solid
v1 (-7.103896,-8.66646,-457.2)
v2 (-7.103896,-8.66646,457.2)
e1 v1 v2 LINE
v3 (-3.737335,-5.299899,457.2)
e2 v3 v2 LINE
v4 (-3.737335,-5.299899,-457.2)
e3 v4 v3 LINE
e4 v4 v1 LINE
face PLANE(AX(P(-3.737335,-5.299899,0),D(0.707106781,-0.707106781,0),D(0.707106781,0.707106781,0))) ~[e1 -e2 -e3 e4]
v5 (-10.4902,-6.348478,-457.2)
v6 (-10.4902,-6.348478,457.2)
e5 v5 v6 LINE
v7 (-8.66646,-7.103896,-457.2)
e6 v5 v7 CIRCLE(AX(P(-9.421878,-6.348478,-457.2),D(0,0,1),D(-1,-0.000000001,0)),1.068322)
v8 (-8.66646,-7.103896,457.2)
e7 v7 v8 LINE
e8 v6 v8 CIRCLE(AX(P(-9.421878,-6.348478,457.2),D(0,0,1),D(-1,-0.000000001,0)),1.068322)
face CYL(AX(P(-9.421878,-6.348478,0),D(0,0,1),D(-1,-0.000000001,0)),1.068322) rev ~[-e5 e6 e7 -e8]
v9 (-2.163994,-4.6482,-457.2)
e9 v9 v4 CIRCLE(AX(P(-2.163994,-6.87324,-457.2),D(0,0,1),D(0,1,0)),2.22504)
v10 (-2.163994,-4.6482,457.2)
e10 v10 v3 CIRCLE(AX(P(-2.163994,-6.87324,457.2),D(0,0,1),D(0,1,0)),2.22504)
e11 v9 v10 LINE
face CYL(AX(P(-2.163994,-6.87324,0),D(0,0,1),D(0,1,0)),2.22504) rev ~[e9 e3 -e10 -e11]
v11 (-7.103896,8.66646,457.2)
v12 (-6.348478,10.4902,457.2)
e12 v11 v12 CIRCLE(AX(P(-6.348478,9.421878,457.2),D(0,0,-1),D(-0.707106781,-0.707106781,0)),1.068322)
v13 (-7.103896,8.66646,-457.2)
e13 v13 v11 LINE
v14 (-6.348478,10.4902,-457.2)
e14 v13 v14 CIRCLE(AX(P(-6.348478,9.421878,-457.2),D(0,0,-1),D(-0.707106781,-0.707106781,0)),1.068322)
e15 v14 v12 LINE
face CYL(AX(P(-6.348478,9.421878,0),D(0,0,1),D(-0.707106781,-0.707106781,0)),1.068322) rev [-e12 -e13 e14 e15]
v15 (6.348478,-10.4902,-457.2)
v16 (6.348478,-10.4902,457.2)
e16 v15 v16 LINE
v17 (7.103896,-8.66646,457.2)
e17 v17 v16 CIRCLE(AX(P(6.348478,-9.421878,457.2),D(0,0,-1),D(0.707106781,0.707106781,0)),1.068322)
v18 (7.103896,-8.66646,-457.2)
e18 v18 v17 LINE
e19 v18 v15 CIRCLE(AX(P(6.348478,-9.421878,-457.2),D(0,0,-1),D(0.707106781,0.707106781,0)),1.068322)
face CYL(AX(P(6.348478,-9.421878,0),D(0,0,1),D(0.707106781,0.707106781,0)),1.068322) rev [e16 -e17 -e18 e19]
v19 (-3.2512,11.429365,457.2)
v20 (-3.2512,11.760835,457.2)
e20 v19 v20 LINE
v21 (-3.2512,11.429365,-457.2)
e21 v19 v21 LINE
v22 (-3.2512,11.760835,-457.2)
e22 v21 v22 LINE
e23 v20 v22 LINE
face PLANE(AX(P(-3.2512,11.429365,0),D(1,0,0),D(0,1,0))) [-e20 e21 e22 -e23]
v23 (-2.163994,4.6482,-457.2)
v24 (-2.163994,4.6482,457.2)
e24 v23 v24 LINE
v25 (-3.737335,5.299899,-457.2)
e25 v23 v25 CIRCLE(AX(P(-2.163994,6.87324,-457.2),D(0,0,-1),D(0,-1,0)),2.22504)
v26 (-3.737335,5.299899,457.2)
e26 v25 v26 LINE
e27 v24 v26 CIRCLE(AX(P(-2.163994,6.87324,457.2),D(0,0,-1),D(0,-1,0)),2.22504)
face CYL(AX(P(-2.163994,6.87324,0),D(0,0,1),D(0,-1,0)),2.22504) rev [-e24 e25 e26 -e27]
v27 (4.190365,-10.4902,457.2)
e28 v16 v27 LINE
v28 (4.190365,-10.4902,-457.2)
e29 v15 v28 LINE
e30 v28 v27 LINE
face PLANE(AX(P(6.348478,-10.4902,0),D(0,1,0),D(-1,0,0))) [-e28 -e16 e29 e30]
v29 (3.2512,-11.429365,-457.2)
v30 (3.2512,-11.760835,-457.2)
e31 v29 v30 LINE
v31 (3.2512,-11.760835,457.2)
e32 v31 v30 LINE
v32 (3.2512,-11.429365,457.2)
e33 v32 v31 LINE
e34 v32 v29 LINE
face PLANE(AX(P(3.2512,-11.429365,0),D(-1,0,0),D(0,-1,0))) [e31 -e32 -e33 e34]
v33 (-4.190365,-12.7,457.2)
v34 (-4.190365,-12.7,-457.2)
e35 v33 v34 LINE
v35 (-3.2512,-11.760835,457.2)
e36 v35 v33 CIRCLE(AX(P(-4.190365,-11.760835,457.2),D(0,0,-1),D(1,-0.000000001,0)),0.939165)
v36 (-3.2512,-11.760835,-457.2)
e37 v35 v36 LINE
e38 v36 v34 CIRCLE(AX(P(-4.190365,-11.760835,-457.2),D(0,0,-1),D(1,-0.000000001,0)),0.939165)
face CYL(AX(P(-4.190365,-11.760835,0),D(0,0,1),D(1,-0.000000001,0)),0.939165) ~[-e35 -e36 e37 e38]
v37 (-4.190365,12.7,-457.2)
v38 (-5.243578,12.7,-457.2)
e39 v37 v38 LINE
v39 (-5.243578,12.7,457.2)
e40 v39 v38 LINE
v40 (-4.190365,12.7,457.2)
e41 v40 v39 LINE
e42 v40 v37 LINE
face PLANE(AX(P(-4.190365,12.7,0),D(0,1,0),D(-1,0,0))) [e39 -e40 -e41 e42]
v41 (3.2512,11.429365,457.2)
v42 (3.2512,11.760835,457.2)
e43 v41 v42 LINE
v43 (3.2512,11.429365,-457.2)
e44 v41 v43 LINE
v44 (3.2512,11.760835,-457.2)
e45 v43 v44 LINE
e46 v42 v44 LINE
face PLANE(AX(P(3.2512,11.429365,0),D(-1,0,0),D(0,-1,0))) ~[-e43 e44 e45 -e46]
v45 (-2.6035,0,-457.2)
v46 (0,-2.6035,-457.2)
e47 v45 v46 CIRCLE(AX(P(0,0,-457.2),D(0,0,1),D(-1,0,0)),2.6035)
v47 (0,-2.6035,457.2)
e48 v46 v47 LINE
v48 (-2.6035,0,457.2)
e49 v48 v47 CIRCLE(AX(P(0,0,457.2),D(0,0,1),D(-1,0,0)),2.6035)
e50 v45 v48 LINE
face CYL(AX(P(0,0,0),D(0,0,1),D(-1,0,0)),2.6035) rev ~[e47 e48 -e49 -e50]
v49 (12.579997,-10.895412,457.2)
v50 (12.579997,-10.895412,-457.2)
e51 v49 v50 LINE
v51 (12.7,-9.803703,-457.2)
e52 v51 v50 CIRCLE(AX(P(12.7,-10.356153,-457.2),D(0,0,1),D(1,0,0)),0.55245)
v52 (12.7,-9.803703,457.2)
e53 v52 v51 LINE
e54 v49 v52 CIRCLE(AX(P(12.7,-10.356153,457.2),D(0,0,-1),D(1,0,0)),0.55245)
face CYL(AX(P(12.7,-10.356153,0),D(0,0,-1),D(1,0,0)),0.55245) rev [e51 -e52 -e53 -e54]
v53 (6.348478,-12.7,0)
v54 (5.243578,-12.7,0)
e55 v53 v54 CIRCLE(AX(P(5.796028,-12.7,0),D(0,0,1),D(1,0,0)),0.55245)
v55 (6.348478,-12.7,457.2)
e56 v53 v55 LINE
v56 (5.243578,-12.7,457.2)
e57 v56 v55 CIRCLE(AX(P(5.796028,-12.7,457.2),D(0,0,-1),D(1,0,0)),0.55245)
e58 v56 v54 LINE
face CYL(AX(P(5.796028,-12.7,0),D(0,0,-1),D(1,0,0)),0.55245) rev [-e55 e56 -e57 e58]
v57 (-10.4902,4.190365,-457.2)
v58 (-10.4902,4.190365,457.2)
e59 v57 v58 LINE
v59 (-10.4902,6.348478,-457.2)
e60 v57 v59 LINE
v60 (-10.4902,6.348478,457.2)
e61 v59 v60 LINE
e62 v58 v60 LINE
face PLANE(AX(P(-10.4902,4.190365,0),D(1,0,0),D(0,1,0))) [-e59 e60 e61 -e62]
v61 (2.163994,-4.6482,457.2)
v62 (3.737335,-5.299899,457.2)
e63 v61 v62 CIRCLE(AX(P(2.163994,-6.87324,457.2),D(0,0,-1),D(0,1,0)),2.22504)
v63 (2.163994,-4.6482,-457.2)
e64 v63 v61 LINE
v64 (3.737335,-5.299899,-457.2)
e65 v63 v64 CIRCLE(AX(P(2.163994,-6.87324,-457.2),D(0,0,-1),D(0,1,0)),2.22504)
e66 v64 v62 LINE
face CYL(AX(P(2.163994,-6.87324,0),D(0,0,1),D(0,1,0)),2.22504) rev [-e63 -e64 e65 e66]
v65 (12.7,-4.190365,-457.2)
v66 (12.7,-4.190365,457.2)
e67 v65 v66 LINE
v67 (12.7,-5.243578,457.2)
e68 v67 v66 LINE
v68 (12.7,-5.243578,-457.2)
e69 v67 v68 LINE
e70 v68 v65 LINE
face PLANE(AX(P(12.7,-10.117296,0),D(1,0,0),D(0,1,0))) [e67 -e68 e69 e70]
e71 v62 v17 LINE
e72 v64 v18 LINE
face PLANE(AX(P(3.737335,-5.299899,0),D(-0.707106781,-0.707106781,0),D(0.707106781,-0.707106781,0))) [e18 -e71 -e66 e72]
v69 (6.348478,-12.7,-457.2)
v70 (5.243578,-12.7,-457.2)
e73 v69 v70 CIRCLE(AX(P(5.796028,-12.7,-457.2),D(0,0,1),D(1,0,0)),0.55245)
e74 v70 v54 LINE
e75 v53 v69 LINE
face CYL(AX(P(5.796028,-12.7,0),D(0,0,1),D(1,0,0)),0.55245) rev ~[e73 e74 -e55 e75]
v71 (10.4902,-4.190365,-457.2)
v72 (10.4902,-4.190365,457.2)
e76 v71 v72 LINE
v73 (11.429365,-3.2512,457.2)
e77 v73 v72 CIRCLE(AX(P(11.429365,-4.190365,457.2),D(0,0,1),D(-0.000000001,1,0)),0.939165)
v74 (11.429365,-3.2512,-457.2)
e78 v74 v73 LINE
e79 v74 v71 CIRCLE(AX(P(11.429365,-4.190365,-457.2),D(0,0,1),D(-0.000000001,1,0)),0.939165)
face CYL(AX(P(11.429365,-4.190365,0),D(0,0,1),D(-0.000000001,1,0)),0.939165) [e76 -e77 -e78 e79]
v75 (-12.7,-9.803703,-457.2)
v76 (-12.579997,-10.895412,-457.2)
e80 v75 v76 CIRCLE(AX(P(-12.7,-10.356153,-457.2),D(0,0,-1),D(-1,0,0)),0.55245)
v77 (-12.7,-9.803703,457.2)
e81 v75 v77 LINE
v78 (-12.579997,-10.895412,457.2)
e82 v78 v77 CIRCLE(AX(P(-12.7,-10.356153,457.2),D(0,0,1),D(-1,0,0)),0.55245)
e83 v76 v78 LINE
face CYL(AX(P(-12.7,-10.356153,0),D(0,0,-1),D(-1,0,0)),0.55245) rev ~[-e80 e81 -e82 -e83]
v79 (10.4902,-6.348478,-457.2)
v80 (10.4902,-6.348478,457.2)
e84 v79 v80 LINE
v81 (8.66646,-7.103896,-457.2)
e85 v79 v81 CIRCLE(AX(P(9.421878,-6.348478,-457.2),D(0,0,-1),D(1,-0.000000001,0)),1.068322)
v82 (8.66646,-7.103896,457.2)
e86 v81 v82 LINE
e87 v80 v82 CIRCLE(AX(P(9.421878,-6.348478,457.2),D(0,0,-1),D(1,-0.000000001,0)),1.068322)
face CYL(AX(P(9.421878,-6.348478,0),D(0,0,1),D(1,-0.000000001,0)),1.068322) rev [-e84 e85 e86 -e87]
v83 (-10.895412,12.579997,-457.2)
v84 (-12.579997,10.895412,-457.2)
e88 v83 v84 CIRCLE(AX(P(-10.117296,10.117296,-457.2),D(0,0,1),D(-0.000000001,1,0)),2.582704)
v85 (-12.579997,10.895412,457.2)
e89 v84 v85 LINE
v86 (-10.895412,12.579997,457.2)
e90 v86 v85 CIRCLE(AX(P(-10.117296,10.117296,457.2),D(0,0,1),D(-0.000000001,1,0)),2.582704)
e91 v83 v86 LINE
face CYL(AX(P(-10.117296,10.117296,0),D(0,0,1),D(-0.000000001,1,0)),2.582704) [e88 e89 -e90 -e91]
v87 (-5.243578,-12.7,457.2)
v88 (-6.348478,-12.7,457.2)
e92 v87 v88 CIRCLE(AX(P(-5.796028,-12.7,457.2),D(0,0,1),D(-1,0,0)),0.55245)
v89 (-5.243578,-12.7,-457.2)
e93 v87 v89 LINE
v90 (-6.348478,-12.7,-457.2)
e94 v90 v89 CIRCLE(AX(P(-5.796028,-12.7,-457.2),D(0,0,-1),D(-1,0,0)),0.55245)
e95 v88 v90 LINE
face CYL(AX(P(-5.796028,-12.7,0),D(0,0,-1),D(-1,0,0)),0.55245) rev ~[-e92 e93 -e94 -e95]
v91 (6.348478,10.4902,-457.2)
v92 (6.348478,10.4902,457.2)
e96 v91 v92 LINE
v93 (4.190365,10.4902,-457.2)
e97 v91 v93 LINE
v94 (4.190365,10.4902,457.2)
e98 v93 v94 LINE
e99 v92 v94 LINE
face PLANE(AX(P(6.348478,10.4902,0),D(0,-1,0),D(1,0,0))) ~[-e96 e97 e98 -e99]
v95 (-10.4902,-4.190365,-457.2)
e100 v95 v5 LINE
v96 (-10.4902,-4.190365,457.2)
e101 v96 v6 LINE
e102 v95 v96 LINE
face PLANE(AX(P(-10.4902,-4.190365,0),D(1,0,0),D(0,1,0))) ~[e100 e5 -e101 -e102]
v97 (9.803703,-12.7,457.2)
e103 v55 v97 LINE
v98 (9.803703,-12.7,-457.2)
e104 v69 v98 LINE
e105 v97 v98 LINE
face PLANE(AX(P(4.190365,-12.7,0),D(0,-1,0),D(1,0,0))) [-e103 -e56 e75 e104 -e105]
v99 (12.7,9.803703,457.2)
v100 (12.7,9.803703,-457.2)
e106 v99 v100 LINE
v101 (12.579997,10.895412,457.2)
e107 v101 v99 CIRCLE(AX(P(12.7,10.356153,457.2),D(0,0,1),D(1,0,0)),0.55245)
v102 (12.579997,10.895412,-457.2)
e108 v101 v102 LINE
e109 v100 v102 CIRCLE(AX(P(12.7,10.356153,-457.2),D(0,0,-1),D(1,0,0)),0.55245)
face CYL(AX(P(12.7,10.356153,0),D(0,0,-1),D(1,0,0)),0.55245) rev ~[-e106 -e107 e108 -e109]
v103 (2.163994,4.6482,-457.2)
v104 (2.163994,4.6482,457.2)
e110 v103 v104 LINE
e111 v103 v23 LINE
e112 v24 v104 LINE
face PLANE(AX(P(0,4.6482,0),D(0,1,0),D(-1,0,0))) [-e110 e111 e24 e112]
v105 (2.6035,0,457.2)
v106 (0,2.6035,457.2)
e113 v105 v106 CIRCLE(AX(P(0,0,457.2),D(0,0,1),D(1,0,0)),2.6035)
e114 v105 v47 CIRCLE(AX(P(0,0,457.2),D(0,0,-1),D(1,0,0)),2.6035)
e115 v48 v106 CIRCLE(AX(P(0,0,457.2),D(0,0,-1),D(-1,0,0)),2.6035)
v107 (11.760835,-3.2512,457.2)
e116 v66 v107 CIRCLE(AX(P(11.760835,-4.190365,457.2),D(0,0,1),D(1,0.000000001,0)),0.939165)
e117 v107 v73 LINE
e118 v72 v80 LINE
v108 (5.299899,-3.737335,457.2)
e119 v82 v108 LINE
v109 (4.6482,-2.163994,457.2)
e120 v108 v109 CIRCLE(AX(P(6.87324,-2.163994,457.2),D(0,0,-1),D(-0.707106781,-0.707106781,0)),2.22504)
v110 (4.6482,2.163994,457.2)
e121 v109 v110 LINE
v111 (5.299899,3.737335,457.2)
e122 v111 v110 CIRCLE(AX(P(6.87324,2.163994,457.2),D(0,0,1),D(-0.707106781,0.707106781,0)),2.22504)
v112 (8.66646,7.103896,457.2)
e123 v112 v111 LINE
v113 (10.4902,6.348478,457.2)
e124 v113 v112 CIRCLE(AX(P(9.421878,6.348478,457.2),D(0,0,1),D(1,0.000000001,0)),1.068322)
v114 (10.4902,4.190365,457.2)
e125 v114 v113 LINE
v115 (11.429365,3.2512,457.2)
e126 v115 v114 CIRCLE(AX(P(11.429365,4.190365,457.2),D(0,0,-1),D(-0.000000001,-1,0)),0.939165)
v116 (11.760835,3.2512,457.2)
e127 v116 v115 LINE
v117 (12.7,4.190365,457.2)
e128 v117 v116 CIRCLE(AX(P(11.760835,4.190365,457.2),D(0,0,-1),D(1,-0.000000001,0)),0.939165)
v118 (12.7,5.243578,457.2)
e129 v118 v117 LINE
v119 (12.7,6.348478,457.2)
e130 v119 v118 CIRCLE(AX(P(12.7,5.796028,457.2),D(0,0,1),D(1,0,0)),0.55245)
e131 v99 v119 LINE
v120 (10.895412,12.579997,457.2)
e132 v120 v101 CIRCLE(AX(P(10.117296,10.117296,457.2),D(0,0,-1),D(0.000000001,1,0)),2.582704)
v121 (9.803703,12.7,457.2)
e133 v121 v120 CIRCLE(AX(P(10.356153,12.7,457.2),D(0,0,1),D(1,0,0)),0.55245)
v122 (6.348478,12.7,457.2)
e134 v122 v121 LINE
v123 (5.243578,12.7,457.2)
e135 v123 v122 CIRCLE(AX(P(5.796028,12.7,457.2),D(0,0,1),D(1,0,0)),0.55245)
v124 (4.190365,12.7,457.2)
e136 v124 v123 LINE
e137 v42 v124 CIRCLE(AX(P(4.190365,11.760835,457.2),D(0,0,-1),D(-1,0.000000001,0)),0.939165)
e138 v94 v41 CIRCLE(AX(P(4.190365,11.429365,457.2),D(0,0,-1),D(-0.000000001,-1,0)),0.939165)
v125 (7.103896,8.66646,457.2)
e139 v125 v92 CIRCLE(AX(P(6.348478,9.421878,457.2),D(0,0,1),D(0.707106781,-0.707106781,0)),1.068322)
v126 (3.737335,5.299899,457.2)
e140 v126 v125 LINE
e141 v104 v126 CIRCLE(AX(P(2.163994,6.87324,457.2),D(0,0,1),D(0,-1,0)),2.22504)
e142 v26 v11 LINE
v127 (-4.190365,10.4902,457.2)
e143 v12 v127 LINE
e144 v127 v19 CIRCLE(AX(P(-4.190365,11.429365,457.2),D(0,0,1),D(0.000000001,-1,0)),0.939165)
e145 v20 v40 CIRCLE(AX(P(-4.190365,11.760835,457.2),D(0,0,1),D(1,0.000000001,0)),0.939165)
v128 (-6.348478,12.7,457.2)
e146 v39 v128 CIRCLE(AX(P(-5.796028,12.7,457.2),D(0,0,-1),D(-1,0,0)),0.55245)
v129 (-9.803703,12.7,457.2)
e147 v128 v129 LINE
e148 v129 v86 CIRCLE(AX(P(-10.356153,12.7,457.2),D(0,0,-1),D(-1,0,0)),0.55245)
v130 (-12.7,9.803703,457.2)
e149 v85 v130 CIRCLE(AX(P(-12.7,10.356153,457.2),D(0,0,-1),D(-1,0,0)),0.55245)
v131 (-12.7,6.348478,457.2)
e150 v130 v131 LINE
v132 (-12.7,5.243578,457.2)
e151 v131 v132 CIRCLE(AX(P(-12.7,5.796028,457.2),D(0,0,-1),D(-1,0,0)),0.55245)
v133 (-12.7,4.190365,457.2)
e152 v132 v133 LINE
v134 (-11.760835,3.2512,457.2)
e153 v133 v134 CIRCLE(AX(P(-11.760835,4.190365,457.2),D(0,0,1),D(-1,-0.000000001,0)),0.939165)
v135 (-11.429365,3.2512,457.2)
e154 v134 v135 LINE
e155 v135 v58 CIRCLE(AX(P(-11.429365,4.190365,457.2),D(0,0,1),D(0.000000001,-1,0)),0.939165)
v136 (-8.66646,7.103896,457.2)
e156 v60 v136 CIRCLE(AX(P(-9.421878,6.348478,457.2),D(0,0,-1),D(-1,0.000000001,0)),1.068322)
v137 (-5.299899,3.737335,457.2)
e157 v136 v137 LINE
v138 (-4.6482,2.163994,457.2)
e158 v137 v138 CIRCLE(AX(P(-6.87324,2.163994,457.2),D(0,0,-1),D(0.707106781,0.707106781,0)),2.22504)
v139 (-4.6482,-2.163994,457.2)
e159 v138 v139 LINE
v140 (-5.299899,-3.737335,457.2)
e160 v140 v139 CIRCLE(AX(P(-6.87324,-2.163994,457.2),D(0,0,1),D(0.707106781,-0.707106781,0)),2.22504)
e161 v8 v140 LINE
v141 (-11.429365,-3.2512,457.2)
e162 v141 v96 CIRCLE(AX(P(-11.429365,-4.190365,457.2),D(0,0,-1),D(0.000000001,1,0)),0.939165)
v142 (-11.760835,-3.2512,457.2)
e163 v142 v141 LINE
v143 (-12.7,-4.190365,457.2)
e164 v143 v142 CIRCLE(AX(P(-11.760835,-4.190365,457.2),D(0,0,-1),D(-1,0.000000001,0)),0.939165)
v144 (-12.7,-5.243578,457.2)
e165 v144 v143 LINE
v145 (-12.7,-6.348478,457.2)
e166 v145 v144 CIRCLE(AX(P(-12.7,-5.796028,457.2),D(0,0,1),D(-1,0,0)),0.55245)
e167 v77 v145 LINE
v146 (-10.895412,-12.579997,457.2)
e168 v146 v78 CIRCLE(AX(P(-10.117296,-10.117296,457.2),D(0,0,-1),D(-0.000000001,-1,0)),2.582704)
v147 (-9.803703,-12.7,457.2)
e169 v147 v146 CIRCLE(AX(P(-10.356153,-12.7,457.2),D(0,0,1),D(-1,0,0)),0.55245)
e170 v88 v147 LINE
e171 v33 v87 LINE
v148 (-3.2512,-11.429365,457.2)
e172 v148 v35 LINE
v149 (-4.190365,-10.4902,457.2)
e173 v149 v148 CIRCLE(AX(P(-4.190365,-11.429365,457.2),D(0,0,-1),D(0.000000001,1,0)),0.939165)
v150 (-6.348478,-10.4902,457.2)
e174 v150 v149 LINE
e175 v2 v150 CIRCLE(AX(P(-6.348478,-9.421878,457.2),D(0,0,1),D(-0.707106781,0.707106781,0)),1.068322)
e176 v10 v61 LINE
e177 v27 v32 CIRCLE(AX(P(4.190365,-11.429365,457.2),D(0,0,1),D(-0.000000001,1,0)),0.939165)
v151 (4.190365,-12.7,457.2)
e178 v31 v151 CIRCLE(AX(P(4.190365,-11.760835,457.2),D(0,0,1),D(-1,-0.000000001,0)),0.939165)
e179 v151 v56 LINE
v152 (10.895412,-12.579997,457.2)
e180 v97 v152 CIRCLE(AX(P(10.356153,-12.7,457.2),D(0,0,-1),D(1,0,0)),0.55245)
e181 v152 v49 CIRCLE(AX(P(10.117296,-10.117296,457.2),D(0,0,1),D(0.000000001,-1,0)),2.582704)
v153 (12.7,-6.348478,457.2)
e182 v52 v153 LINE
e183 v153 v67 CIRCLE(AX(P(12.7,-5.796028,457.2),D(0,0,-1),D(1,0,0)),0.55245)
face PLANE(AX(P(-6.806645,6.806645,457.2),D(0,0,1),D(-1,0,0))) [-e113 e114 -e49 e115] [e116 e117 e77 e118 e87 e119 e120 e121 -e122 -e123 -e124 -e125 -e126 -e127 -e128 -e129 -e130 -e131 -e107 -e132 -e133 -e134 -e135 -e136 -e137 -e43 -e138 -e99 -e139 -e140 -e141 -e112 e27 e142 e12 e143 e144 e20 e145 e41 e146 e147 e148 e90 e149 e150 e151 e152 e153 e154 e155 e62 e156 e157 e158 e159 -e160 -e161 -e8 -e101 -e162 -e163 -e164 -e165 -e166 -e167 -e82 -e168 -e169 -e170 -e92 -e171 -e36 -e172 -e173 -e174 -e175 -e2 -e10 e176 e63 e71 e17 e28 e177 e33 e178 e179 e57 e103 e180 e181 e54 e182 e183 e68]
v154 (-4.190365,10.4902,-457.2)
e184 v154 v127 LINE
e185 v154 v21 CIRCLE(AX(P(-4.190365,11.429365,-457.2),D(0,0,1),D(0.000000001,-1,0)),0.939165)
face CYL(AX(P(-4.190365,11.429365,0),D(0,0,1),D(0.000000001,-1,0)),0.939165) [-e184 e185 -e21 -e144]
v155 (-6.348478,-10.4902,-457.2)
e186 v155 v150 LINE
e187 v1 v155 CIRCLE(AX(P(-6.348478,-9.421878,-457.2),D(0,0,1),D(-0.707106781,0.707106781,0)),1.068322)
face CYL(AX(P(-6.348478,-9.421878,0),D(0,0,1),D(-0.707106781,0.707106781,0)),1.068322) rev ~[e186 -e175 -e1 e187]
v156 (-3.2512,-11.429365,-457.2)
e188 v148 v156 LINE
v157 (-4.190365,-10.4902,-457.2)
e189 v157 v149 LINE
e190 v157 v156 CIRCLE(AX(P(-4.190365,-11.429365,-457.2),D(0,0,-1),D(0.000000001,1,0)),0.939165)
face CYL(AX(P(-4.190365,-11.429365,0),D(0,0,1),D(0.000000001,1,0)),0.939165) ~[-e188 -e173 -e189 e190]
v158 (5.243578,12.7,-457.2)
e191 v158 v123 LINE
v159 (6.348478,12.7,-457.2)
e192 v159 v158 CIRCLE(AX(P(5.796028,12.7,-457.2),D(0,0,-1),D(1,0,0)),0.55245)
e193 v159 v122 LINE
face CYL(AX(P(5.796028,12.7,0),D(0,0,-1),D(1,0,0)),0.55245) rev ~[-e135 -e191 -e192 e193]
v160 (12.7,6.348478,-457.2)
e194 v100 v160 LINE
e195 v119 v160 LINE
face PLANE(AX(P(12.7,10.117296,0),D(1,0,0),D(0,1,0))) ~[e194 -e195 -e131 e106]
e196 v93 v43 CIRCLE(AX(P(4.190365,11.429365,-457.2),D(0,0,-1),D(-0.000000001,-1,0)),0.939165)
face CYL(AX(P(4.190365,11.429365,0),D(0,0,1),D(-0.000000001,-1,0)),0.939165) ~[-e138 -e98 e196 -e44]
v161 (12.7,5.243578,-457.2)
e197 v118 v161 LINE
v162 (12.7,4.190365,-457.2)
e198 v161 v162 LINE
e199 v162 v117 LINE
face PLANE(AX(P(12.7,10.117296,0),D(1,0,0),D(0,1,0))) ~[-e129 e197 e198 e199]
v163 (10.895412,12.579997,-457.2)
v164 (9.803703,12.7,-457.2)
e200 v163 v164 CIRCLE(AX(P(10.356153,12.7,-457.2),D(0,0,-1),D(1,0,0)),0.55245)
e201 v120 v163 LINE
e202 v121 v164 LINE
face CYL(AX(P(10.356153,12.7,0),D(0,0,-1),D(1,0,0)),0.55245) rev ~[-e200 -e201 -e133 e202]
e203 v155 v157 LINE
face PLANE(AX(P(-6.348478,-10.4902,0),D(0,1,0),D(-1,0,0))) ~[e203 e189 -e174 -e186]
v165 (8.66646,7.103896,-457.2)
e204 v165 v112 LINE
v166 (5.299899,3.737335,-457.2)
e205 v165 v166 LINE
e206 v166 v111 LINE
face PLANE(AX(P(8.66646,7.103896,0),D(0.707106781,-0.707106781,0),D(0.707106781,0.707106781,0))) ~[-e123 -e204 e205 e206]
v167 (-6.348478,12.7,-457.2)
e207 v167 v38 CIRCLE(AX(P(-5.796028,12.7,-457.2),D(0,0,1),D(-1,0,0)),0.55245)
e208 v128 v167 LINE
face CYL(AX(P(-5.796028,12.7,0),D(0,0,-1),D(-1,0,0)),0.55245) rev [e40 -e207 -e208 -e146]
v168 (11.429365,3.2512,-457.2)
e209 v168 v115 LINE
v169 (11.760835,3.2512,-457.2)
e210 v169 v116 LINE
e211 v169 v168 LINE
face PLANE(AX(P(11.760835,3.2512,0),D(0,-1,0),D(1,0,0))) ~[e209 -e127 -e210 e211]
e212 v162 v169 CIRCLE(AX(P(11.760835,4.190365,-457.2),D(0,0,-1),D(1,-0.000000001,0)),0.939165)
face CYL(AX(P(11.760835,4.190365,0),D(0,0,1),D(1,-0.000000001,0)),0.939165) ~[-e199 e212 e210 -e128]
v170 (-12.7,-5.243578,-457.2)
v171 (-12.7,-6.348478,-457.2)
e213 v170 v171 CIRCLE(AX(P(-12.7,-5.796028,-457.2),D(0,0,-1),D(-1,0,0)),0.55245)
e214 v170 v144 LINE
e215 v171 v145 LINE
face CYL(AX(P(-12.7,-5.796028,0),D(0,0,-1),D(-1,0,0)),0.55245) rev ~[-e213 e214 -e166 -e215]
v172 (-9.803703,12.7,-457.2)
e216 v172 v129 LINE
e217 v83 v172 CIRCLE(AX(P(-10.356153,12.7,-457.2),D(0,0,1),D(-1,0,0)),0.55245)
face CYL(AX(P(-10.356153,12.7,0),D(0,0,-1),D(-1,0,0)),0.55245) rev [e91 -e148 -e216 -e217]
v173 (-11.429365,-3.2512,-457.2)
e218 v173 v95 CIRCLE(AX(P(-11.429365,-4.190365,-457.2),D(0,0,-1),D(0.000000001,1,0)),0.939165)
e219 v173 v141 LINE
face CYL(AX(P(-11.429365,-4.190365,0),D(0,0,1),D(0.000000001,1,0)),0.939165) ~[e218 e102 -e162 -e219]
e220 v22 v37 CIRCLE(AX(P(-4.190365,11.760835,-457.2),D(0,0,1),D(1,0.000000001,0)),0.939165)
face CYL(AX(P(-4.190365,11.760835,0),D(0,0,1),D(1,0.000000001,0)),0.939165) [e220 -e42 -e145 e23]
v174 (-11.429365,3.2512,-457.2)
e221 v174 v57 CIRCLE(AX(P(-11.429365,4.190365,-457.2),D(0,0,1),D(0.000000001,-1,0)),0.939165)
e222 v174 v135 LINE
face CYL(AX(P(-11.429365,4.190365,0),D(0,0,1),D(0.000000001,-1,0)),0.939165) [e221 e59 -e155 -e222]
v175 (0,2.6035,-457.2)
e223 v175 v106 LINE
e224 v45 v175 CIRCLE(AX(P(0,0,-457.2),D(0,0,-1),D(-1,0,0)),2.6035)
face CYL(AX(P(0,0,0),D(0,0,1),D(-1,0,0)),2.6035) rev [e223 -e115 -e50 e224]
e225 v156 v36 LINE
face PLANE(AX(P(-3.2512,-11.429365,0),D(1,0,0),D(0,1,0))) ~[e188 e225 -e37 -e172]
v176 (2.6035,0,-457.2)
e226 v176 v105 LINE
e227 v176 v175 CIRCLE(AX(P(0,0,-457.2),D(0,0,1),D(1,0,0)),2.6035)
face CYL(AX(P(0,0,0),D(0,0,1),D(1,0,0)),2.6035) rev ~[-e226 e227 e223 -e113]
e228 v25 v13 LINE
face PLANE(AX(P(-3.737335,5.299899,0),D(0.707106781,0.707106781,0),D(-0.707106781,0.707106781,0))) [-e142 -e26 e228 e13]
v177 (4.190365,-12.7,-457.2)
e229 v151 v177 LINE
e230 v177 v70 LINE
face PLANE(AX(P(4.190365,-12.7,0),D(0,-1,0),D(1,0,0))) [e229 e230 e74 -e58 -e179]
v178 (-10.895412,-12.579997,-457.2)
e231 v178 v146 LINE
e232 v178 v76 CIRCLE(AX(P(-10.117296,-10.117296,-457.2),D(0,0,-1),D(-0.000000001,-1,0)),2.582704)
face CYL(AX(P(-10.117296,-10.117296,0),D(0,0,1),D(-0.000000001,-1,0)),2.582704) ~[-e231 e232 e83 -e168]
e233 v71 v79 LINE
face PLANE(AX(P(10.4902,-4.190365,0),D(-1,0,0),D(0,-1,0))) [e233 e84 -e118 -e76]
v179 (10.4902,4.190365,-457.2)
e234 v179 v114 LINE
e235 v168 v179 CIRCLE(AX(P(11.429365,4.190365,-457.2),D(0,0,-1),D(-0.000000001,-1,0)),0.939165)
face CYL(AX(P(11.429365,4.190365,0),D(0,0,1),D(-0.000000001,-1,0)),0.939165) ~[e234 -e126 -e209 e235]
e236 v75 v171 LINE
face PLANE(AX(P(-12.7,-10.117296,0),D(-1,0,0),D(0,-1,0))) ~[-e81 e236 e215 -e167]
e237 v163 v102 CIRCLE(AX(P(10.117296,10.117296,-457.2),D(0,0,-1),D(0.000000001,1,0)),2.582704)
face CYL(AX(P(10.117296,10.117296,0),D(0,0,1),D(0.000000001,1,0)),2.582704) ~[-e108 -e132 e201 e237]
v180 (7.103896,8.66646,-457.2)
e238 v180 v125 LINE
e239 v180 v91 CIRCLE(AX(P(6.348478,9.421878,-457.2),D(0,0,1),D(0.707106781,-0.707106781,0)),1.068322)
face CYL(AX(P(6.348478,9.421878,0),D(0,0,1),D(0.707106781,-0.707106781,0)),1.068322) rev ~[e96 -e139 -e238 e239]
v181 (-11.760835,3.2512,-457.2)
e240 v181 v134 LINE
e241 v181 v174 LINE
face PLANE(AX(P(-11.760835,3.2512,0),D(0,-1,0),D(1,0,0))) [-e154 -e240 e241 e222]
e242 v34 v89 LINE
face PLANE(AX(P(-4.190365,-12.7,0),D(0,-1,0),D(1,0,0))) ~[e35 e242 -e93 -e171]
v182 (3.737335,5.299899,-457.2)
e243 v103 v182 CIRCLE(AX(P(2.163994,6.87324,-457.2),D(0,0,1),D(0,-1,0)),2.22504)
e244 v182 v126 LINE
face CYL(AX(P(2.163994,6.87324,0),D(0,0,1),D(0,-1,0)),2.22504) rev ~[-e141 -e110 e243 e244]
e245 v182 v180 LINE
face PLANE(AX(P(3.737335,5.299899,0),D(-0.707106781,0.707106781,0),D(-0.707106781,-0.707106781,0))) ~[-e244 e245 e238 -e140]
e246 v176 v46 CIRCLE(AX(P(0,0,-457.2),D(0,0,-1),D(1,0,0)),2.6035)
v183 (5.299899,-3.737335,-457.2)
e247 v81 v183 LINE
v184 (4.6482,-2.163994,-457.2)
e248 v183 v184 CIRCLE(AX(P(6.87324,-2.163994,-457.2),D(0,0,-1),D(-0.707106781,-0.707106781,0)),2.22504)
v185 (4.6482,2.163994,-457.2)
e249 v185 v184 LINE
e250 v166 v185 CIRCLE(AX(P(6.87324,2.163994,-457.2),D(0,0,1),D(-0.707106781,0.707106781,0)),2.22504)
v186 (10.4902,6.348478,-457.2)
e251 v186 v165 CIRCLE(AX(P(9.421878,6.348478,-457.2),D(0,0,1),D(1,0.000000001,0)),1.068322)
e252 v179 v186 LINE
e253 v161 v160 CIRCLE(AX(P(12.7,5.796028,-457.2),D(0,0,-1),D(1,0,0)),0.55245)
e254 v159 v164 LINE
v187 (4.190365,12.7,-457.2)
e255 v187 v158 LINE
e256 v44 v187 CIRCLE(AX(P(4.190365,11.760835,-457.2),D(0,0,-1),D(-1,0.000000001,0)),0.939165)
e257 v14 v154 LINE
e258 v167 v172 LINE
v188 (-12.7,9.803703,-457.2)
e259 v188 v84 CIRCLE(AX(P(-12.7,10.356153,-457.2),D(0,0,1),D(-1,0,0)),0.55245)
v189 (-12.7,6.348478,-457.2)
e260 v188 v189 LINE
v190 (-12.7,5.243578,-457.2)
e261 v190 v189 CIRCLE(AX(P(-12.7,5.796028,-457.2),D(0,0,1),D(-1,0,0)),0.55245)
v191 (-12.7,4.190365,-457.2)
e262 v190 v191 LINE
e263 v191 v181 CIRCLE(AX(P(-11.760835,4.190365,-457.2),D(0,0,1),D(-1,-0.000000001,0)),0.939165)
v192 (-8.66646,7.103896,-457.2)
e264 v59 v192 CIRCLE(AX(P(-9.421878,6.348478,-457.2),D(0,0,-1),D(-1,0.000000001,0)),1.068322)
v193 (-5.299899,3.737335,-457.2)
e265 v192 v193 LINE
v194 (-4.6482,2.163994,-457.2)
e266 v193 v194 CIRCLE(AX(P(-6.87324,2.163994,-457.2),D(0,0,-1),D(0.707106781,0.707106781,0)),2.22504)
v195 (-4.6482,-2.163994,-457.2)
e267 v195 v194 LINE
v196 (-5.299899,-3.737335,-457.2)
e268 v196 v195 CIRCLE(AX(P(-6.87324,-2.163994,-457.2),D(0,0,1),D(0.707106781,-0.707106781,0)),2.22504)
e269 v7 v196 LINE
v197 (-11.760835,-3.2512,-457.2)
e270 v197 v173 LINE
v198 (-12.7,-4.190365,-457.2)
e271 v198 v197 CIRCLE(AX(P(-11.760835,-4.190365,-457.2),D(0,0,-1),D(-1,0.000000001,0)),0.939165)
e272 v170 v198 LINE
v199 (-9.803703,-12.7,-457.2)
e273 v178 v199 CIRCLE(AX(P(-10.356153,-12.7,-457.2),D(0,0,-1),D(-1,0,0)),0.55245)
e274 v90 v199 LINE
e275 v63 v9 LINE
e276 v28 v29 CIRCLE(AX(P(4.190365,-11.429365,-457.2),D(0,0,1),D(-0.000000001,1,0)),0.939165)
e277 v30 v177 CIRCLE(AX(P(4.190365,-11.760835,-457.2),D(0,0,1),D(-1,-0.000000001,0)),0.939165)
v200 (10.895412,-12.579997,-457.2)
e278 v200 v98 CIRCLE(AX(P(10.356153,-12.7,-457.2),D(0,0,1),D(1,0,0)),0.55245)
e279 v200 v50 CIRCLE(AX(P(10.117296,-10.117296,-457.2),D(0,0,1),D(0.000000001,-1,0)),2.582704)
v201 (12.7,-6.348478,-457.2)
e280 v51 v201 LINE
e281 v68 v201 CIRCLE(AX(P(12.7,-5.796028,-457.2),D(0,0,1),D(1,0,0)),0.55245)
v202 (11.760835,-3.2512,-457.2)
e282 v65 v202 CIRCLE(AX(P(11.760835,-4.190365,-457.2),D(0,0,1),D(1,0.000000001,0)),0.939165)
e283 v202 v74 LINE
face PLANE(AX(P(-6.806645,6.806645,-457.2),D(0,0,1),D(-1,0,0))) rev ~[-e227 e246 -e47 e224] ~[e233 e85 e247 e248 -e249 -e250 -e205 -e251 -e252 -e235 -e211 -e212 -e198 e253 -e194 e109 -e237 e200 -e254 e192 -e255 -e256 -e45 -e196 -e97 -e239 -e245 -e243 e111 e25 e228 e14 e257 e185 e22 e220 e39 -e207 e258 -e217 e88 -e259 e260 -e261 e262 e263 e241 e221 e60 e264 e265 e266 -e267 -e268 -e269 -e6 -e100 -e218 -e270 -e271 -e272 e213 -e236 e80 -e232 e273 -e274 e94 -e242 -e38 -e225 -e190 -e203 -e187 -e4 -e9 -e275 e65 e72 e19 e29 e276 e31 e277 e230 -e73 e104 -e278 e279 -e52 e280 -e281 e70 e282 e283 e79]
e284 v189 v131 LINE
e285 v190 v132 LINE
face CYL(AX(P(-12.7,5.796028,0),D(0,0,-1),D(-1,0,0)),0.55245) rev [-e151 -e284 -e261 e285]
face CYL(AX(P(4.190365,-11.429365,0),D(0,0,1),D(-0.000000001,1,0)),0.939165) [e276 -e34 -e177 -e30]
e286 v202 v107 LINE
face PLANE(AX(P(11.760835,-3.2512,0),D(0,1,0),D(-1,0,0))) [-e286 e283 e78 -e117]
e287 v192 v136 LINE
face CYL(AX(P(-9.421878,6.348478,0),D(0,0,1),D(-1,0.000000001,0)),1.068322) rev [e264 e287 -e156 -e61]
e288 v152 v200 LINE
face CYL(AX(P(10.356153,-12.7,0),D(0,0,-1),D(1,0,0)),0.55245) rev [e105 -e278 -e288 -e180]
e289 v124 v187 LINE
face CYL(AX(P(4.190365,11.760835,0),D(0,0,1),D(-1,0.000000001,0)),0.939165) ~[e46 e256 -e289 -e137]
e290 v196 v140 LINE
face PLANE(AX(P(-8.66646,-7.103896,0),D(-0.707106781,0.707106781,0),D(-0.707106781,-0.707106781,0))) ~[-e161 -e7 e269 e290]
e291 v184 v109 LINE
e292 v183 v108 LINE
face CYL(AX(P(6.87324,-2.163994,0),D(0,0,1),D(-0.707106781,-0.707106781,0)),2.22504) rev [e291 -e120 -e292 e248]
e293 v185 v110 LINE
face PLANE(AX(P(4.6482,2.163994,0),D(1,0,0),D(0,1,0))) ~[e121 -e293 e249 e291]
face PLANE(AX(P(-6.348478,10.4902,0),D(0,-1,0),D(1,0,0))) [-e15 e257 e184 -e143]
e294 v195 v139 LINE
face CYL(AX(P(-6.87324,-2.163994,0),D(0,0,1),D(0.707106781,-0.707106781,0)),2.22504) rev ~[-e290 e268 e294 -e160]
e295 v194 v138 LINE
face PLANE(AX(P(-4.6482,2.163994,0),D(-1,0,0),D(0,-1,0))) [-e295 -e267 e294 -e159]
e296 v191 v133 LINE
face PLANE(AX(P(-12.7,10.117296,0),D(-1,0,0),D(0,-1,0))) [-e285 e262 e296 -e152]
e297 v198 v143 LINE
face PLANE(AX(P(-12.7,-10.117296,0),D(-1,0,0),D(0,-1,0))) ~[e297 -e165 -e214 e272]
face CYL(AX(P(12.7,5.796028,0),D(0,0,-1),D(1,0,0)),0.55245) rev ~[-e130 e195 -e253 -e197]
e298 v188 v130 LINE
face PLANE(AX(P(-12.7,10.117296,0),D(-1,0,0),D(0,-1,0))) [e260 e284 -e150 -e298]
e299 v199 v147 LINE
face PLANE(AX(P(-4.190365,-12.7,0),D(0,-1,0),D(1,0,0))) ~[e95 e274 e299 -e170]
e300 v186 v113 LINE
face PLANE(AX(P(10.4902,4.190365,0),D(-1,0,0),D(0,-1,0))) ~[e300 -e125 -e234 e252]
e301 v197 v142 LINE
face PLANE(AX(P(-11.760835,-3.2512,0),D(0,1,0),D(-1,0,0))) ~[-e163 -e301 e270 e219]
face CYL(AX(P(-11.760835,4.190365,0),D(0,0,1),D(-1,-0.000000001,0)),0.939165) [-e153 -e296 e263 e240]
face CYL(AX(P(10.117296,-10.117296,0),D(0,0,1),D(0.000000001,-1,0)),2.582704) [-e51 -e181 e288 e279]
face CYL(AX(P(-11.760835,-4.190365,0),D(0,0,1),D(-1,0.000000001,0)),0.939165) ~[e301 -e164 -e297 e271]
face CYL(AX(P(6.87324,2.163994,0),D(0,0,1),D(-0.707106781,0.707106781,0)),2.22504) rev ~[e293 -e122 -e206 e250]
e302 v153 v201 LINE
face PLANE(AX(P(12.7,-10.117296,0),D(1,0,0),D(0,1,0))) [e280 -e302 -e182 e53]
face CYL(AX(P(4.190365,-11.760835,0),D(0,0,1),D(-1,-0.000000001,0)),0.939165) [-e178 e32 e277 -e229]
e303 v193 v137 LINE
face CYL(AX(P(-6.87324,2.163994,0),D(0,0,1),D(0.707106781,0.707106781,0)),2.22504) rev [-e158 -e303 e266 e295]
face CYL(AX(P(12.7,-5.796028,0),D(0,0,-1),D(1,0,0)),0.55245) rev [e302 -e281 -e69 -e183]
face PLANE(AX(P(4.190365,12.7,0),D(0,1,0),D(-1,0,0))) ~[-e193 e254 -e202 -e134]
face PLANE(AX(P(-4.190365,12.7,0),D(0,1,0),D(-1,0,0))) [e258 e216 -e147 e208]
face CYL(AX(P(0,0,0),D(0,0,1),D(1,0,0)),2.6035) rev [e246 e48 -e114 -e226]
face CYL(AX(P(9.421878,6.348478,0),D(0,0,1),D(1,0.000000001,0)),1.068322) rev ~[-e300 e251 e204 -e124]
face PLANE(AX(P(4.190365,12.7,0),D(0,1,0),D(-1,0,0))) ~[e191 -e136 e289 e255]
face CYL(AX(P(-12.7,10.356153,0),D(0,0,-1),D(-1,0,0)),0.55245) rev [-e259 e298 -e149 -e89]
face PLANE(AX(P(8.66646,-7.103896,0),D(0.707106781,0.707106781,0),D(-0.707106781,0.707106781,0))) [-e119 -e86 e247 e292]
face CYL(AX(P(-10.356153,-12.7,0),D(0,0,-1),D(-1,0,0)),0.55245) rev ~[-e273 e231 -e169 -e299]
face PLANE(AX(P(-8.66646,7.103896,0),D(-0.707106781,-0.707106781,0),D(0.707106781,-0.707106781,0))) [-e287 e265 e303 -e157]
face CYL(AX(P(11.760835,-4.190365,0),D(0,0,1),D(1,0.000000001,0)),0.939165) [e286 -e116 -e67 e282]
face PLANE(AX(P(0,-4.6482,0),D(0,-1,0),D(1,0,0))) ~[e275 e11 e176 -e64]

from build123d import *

# Parameters (mm, degrees)
BOSS_EXTRUDE1_DEPTH     = 457.2
SKETCH5_R               = 0.55245
CUT_EXTRUDE1_DEPTH      = 458.2
CUT_EXTRUDE1_DEPTH_BACK = 458.2


with BuildPart() as part:
    # Sketch4 → Boss-Extrude1 (new body, symmetric)
    with BuildSketch(Plane.XY):
        with BuildLine():
            Line((4.190365, -12.7), (10.11729625, -12.7))
            ThreePointArc((10.11729625, -12.7), (11.943543585, -11.943543585), (12.7, -10.11729625))
            Line((12.7, -10.11729625), (12.7, -4.190365))
            ThreePointArc((12.7, -4.190365), (12.42492494, -3.52627506), (11.760835, -3.2512))
            Line((11.760835, -3.2512), (11.429365, -3.2512))
            ThreePointArc((11.429365, -3.2512), (10.76527506, -3.52627506), (10.4902, -4.190365))
            Line((10.4902, -4.190365), (10.4902, -6.348478019))
            ThreePointArc((10.4902, -6.348478019), (9.830707141, -7.335478831), (8.666460301, -7.103895736))
            Line((8.666460301, -7.103895736), (5.299899128, -3.737334563))
            ThreePointArc((5.299899128, -3.737334563), (4.817571085, -3.015479634), (4.6482, -2.16399369))
            Line((4.6482, -2.16399369), (4.6482, 0))
            Line((4.6482, 0), (2.6035, 0))
            ThreePointArc((2.6035, 0), (1.840952505, -1.840952505), (0, -2.6035))
            Line((0, -2.6035), (0, -4.6482))
            Line((0, -4.6482), (2.16399369, -4.6482))
            ThreePointArc((2.16399369, -4.6482), (3.015479634, -4.817571085), (3.737334563, -5.299899128))
            Line((3.737334563, -5.299899128), (7.103895736, -8.666460301))
            ThreePointArc((7.103895736, -8.666460301), (7.335478831, -9.830707141), (6.348478019, -10.4902))
            Line((6.348478019, -10.4902), (4.190365, -10.4902))
            ThreePointArc((4.190365, -10.4902), (3.52627506, -10.76527506), (3.2512, -11.429365))
            Line((3.2512, -11.429365), (3.2512, -11.760835))
            ThreePointArc((3.2512, -11.760835), (3.52627506, -12.42492494), (4.190365, -12.7))
        make_face()
    extrude(amount=BOSS_EXTRUDE1_DEPTH, both=True)

    # Sketch5 → Cut-Extrude1 (cut, two sides)
    with BuildSketch(Plane.XY) as cut_extrude1_sk:
        with Locations((10.356153152, -12.7)):
            Circle(SKETCH5_R)
        with Locations((5.796028019, -12.7)):
            Circle(SKETCH5_R)
        with Locations((12.7, -10.356153152)):
            Circle(SKETCH5_R)
        with Locations((12.7, -5.796028019)):
            Circle(SKETCH5_R)
    extrude(amount=CUT_EXTRUDE1_DEPTH, mode=Mode.SUBTRACT)
    extrude(cut_extrude1_sk.sketch, amount=-CUT_EXTRUDE1_DEPTH_BACK, mode=Mode.SUBTRACT)

    # Mirror1: part across plane


with BuildPart() as part_1:
    add(part.part)
    add(part.part.mirror(Plane(origin=(0, 0, 0), x_dir=(0, 0, 1), z_dir=(1, 0, 0))))

    # Mirror2: part across plane


with BuildPart() as part_2:
    add(part_1.part)
    add(part_1.part.mirror(Plane.ZX))


solid = part_2.part
